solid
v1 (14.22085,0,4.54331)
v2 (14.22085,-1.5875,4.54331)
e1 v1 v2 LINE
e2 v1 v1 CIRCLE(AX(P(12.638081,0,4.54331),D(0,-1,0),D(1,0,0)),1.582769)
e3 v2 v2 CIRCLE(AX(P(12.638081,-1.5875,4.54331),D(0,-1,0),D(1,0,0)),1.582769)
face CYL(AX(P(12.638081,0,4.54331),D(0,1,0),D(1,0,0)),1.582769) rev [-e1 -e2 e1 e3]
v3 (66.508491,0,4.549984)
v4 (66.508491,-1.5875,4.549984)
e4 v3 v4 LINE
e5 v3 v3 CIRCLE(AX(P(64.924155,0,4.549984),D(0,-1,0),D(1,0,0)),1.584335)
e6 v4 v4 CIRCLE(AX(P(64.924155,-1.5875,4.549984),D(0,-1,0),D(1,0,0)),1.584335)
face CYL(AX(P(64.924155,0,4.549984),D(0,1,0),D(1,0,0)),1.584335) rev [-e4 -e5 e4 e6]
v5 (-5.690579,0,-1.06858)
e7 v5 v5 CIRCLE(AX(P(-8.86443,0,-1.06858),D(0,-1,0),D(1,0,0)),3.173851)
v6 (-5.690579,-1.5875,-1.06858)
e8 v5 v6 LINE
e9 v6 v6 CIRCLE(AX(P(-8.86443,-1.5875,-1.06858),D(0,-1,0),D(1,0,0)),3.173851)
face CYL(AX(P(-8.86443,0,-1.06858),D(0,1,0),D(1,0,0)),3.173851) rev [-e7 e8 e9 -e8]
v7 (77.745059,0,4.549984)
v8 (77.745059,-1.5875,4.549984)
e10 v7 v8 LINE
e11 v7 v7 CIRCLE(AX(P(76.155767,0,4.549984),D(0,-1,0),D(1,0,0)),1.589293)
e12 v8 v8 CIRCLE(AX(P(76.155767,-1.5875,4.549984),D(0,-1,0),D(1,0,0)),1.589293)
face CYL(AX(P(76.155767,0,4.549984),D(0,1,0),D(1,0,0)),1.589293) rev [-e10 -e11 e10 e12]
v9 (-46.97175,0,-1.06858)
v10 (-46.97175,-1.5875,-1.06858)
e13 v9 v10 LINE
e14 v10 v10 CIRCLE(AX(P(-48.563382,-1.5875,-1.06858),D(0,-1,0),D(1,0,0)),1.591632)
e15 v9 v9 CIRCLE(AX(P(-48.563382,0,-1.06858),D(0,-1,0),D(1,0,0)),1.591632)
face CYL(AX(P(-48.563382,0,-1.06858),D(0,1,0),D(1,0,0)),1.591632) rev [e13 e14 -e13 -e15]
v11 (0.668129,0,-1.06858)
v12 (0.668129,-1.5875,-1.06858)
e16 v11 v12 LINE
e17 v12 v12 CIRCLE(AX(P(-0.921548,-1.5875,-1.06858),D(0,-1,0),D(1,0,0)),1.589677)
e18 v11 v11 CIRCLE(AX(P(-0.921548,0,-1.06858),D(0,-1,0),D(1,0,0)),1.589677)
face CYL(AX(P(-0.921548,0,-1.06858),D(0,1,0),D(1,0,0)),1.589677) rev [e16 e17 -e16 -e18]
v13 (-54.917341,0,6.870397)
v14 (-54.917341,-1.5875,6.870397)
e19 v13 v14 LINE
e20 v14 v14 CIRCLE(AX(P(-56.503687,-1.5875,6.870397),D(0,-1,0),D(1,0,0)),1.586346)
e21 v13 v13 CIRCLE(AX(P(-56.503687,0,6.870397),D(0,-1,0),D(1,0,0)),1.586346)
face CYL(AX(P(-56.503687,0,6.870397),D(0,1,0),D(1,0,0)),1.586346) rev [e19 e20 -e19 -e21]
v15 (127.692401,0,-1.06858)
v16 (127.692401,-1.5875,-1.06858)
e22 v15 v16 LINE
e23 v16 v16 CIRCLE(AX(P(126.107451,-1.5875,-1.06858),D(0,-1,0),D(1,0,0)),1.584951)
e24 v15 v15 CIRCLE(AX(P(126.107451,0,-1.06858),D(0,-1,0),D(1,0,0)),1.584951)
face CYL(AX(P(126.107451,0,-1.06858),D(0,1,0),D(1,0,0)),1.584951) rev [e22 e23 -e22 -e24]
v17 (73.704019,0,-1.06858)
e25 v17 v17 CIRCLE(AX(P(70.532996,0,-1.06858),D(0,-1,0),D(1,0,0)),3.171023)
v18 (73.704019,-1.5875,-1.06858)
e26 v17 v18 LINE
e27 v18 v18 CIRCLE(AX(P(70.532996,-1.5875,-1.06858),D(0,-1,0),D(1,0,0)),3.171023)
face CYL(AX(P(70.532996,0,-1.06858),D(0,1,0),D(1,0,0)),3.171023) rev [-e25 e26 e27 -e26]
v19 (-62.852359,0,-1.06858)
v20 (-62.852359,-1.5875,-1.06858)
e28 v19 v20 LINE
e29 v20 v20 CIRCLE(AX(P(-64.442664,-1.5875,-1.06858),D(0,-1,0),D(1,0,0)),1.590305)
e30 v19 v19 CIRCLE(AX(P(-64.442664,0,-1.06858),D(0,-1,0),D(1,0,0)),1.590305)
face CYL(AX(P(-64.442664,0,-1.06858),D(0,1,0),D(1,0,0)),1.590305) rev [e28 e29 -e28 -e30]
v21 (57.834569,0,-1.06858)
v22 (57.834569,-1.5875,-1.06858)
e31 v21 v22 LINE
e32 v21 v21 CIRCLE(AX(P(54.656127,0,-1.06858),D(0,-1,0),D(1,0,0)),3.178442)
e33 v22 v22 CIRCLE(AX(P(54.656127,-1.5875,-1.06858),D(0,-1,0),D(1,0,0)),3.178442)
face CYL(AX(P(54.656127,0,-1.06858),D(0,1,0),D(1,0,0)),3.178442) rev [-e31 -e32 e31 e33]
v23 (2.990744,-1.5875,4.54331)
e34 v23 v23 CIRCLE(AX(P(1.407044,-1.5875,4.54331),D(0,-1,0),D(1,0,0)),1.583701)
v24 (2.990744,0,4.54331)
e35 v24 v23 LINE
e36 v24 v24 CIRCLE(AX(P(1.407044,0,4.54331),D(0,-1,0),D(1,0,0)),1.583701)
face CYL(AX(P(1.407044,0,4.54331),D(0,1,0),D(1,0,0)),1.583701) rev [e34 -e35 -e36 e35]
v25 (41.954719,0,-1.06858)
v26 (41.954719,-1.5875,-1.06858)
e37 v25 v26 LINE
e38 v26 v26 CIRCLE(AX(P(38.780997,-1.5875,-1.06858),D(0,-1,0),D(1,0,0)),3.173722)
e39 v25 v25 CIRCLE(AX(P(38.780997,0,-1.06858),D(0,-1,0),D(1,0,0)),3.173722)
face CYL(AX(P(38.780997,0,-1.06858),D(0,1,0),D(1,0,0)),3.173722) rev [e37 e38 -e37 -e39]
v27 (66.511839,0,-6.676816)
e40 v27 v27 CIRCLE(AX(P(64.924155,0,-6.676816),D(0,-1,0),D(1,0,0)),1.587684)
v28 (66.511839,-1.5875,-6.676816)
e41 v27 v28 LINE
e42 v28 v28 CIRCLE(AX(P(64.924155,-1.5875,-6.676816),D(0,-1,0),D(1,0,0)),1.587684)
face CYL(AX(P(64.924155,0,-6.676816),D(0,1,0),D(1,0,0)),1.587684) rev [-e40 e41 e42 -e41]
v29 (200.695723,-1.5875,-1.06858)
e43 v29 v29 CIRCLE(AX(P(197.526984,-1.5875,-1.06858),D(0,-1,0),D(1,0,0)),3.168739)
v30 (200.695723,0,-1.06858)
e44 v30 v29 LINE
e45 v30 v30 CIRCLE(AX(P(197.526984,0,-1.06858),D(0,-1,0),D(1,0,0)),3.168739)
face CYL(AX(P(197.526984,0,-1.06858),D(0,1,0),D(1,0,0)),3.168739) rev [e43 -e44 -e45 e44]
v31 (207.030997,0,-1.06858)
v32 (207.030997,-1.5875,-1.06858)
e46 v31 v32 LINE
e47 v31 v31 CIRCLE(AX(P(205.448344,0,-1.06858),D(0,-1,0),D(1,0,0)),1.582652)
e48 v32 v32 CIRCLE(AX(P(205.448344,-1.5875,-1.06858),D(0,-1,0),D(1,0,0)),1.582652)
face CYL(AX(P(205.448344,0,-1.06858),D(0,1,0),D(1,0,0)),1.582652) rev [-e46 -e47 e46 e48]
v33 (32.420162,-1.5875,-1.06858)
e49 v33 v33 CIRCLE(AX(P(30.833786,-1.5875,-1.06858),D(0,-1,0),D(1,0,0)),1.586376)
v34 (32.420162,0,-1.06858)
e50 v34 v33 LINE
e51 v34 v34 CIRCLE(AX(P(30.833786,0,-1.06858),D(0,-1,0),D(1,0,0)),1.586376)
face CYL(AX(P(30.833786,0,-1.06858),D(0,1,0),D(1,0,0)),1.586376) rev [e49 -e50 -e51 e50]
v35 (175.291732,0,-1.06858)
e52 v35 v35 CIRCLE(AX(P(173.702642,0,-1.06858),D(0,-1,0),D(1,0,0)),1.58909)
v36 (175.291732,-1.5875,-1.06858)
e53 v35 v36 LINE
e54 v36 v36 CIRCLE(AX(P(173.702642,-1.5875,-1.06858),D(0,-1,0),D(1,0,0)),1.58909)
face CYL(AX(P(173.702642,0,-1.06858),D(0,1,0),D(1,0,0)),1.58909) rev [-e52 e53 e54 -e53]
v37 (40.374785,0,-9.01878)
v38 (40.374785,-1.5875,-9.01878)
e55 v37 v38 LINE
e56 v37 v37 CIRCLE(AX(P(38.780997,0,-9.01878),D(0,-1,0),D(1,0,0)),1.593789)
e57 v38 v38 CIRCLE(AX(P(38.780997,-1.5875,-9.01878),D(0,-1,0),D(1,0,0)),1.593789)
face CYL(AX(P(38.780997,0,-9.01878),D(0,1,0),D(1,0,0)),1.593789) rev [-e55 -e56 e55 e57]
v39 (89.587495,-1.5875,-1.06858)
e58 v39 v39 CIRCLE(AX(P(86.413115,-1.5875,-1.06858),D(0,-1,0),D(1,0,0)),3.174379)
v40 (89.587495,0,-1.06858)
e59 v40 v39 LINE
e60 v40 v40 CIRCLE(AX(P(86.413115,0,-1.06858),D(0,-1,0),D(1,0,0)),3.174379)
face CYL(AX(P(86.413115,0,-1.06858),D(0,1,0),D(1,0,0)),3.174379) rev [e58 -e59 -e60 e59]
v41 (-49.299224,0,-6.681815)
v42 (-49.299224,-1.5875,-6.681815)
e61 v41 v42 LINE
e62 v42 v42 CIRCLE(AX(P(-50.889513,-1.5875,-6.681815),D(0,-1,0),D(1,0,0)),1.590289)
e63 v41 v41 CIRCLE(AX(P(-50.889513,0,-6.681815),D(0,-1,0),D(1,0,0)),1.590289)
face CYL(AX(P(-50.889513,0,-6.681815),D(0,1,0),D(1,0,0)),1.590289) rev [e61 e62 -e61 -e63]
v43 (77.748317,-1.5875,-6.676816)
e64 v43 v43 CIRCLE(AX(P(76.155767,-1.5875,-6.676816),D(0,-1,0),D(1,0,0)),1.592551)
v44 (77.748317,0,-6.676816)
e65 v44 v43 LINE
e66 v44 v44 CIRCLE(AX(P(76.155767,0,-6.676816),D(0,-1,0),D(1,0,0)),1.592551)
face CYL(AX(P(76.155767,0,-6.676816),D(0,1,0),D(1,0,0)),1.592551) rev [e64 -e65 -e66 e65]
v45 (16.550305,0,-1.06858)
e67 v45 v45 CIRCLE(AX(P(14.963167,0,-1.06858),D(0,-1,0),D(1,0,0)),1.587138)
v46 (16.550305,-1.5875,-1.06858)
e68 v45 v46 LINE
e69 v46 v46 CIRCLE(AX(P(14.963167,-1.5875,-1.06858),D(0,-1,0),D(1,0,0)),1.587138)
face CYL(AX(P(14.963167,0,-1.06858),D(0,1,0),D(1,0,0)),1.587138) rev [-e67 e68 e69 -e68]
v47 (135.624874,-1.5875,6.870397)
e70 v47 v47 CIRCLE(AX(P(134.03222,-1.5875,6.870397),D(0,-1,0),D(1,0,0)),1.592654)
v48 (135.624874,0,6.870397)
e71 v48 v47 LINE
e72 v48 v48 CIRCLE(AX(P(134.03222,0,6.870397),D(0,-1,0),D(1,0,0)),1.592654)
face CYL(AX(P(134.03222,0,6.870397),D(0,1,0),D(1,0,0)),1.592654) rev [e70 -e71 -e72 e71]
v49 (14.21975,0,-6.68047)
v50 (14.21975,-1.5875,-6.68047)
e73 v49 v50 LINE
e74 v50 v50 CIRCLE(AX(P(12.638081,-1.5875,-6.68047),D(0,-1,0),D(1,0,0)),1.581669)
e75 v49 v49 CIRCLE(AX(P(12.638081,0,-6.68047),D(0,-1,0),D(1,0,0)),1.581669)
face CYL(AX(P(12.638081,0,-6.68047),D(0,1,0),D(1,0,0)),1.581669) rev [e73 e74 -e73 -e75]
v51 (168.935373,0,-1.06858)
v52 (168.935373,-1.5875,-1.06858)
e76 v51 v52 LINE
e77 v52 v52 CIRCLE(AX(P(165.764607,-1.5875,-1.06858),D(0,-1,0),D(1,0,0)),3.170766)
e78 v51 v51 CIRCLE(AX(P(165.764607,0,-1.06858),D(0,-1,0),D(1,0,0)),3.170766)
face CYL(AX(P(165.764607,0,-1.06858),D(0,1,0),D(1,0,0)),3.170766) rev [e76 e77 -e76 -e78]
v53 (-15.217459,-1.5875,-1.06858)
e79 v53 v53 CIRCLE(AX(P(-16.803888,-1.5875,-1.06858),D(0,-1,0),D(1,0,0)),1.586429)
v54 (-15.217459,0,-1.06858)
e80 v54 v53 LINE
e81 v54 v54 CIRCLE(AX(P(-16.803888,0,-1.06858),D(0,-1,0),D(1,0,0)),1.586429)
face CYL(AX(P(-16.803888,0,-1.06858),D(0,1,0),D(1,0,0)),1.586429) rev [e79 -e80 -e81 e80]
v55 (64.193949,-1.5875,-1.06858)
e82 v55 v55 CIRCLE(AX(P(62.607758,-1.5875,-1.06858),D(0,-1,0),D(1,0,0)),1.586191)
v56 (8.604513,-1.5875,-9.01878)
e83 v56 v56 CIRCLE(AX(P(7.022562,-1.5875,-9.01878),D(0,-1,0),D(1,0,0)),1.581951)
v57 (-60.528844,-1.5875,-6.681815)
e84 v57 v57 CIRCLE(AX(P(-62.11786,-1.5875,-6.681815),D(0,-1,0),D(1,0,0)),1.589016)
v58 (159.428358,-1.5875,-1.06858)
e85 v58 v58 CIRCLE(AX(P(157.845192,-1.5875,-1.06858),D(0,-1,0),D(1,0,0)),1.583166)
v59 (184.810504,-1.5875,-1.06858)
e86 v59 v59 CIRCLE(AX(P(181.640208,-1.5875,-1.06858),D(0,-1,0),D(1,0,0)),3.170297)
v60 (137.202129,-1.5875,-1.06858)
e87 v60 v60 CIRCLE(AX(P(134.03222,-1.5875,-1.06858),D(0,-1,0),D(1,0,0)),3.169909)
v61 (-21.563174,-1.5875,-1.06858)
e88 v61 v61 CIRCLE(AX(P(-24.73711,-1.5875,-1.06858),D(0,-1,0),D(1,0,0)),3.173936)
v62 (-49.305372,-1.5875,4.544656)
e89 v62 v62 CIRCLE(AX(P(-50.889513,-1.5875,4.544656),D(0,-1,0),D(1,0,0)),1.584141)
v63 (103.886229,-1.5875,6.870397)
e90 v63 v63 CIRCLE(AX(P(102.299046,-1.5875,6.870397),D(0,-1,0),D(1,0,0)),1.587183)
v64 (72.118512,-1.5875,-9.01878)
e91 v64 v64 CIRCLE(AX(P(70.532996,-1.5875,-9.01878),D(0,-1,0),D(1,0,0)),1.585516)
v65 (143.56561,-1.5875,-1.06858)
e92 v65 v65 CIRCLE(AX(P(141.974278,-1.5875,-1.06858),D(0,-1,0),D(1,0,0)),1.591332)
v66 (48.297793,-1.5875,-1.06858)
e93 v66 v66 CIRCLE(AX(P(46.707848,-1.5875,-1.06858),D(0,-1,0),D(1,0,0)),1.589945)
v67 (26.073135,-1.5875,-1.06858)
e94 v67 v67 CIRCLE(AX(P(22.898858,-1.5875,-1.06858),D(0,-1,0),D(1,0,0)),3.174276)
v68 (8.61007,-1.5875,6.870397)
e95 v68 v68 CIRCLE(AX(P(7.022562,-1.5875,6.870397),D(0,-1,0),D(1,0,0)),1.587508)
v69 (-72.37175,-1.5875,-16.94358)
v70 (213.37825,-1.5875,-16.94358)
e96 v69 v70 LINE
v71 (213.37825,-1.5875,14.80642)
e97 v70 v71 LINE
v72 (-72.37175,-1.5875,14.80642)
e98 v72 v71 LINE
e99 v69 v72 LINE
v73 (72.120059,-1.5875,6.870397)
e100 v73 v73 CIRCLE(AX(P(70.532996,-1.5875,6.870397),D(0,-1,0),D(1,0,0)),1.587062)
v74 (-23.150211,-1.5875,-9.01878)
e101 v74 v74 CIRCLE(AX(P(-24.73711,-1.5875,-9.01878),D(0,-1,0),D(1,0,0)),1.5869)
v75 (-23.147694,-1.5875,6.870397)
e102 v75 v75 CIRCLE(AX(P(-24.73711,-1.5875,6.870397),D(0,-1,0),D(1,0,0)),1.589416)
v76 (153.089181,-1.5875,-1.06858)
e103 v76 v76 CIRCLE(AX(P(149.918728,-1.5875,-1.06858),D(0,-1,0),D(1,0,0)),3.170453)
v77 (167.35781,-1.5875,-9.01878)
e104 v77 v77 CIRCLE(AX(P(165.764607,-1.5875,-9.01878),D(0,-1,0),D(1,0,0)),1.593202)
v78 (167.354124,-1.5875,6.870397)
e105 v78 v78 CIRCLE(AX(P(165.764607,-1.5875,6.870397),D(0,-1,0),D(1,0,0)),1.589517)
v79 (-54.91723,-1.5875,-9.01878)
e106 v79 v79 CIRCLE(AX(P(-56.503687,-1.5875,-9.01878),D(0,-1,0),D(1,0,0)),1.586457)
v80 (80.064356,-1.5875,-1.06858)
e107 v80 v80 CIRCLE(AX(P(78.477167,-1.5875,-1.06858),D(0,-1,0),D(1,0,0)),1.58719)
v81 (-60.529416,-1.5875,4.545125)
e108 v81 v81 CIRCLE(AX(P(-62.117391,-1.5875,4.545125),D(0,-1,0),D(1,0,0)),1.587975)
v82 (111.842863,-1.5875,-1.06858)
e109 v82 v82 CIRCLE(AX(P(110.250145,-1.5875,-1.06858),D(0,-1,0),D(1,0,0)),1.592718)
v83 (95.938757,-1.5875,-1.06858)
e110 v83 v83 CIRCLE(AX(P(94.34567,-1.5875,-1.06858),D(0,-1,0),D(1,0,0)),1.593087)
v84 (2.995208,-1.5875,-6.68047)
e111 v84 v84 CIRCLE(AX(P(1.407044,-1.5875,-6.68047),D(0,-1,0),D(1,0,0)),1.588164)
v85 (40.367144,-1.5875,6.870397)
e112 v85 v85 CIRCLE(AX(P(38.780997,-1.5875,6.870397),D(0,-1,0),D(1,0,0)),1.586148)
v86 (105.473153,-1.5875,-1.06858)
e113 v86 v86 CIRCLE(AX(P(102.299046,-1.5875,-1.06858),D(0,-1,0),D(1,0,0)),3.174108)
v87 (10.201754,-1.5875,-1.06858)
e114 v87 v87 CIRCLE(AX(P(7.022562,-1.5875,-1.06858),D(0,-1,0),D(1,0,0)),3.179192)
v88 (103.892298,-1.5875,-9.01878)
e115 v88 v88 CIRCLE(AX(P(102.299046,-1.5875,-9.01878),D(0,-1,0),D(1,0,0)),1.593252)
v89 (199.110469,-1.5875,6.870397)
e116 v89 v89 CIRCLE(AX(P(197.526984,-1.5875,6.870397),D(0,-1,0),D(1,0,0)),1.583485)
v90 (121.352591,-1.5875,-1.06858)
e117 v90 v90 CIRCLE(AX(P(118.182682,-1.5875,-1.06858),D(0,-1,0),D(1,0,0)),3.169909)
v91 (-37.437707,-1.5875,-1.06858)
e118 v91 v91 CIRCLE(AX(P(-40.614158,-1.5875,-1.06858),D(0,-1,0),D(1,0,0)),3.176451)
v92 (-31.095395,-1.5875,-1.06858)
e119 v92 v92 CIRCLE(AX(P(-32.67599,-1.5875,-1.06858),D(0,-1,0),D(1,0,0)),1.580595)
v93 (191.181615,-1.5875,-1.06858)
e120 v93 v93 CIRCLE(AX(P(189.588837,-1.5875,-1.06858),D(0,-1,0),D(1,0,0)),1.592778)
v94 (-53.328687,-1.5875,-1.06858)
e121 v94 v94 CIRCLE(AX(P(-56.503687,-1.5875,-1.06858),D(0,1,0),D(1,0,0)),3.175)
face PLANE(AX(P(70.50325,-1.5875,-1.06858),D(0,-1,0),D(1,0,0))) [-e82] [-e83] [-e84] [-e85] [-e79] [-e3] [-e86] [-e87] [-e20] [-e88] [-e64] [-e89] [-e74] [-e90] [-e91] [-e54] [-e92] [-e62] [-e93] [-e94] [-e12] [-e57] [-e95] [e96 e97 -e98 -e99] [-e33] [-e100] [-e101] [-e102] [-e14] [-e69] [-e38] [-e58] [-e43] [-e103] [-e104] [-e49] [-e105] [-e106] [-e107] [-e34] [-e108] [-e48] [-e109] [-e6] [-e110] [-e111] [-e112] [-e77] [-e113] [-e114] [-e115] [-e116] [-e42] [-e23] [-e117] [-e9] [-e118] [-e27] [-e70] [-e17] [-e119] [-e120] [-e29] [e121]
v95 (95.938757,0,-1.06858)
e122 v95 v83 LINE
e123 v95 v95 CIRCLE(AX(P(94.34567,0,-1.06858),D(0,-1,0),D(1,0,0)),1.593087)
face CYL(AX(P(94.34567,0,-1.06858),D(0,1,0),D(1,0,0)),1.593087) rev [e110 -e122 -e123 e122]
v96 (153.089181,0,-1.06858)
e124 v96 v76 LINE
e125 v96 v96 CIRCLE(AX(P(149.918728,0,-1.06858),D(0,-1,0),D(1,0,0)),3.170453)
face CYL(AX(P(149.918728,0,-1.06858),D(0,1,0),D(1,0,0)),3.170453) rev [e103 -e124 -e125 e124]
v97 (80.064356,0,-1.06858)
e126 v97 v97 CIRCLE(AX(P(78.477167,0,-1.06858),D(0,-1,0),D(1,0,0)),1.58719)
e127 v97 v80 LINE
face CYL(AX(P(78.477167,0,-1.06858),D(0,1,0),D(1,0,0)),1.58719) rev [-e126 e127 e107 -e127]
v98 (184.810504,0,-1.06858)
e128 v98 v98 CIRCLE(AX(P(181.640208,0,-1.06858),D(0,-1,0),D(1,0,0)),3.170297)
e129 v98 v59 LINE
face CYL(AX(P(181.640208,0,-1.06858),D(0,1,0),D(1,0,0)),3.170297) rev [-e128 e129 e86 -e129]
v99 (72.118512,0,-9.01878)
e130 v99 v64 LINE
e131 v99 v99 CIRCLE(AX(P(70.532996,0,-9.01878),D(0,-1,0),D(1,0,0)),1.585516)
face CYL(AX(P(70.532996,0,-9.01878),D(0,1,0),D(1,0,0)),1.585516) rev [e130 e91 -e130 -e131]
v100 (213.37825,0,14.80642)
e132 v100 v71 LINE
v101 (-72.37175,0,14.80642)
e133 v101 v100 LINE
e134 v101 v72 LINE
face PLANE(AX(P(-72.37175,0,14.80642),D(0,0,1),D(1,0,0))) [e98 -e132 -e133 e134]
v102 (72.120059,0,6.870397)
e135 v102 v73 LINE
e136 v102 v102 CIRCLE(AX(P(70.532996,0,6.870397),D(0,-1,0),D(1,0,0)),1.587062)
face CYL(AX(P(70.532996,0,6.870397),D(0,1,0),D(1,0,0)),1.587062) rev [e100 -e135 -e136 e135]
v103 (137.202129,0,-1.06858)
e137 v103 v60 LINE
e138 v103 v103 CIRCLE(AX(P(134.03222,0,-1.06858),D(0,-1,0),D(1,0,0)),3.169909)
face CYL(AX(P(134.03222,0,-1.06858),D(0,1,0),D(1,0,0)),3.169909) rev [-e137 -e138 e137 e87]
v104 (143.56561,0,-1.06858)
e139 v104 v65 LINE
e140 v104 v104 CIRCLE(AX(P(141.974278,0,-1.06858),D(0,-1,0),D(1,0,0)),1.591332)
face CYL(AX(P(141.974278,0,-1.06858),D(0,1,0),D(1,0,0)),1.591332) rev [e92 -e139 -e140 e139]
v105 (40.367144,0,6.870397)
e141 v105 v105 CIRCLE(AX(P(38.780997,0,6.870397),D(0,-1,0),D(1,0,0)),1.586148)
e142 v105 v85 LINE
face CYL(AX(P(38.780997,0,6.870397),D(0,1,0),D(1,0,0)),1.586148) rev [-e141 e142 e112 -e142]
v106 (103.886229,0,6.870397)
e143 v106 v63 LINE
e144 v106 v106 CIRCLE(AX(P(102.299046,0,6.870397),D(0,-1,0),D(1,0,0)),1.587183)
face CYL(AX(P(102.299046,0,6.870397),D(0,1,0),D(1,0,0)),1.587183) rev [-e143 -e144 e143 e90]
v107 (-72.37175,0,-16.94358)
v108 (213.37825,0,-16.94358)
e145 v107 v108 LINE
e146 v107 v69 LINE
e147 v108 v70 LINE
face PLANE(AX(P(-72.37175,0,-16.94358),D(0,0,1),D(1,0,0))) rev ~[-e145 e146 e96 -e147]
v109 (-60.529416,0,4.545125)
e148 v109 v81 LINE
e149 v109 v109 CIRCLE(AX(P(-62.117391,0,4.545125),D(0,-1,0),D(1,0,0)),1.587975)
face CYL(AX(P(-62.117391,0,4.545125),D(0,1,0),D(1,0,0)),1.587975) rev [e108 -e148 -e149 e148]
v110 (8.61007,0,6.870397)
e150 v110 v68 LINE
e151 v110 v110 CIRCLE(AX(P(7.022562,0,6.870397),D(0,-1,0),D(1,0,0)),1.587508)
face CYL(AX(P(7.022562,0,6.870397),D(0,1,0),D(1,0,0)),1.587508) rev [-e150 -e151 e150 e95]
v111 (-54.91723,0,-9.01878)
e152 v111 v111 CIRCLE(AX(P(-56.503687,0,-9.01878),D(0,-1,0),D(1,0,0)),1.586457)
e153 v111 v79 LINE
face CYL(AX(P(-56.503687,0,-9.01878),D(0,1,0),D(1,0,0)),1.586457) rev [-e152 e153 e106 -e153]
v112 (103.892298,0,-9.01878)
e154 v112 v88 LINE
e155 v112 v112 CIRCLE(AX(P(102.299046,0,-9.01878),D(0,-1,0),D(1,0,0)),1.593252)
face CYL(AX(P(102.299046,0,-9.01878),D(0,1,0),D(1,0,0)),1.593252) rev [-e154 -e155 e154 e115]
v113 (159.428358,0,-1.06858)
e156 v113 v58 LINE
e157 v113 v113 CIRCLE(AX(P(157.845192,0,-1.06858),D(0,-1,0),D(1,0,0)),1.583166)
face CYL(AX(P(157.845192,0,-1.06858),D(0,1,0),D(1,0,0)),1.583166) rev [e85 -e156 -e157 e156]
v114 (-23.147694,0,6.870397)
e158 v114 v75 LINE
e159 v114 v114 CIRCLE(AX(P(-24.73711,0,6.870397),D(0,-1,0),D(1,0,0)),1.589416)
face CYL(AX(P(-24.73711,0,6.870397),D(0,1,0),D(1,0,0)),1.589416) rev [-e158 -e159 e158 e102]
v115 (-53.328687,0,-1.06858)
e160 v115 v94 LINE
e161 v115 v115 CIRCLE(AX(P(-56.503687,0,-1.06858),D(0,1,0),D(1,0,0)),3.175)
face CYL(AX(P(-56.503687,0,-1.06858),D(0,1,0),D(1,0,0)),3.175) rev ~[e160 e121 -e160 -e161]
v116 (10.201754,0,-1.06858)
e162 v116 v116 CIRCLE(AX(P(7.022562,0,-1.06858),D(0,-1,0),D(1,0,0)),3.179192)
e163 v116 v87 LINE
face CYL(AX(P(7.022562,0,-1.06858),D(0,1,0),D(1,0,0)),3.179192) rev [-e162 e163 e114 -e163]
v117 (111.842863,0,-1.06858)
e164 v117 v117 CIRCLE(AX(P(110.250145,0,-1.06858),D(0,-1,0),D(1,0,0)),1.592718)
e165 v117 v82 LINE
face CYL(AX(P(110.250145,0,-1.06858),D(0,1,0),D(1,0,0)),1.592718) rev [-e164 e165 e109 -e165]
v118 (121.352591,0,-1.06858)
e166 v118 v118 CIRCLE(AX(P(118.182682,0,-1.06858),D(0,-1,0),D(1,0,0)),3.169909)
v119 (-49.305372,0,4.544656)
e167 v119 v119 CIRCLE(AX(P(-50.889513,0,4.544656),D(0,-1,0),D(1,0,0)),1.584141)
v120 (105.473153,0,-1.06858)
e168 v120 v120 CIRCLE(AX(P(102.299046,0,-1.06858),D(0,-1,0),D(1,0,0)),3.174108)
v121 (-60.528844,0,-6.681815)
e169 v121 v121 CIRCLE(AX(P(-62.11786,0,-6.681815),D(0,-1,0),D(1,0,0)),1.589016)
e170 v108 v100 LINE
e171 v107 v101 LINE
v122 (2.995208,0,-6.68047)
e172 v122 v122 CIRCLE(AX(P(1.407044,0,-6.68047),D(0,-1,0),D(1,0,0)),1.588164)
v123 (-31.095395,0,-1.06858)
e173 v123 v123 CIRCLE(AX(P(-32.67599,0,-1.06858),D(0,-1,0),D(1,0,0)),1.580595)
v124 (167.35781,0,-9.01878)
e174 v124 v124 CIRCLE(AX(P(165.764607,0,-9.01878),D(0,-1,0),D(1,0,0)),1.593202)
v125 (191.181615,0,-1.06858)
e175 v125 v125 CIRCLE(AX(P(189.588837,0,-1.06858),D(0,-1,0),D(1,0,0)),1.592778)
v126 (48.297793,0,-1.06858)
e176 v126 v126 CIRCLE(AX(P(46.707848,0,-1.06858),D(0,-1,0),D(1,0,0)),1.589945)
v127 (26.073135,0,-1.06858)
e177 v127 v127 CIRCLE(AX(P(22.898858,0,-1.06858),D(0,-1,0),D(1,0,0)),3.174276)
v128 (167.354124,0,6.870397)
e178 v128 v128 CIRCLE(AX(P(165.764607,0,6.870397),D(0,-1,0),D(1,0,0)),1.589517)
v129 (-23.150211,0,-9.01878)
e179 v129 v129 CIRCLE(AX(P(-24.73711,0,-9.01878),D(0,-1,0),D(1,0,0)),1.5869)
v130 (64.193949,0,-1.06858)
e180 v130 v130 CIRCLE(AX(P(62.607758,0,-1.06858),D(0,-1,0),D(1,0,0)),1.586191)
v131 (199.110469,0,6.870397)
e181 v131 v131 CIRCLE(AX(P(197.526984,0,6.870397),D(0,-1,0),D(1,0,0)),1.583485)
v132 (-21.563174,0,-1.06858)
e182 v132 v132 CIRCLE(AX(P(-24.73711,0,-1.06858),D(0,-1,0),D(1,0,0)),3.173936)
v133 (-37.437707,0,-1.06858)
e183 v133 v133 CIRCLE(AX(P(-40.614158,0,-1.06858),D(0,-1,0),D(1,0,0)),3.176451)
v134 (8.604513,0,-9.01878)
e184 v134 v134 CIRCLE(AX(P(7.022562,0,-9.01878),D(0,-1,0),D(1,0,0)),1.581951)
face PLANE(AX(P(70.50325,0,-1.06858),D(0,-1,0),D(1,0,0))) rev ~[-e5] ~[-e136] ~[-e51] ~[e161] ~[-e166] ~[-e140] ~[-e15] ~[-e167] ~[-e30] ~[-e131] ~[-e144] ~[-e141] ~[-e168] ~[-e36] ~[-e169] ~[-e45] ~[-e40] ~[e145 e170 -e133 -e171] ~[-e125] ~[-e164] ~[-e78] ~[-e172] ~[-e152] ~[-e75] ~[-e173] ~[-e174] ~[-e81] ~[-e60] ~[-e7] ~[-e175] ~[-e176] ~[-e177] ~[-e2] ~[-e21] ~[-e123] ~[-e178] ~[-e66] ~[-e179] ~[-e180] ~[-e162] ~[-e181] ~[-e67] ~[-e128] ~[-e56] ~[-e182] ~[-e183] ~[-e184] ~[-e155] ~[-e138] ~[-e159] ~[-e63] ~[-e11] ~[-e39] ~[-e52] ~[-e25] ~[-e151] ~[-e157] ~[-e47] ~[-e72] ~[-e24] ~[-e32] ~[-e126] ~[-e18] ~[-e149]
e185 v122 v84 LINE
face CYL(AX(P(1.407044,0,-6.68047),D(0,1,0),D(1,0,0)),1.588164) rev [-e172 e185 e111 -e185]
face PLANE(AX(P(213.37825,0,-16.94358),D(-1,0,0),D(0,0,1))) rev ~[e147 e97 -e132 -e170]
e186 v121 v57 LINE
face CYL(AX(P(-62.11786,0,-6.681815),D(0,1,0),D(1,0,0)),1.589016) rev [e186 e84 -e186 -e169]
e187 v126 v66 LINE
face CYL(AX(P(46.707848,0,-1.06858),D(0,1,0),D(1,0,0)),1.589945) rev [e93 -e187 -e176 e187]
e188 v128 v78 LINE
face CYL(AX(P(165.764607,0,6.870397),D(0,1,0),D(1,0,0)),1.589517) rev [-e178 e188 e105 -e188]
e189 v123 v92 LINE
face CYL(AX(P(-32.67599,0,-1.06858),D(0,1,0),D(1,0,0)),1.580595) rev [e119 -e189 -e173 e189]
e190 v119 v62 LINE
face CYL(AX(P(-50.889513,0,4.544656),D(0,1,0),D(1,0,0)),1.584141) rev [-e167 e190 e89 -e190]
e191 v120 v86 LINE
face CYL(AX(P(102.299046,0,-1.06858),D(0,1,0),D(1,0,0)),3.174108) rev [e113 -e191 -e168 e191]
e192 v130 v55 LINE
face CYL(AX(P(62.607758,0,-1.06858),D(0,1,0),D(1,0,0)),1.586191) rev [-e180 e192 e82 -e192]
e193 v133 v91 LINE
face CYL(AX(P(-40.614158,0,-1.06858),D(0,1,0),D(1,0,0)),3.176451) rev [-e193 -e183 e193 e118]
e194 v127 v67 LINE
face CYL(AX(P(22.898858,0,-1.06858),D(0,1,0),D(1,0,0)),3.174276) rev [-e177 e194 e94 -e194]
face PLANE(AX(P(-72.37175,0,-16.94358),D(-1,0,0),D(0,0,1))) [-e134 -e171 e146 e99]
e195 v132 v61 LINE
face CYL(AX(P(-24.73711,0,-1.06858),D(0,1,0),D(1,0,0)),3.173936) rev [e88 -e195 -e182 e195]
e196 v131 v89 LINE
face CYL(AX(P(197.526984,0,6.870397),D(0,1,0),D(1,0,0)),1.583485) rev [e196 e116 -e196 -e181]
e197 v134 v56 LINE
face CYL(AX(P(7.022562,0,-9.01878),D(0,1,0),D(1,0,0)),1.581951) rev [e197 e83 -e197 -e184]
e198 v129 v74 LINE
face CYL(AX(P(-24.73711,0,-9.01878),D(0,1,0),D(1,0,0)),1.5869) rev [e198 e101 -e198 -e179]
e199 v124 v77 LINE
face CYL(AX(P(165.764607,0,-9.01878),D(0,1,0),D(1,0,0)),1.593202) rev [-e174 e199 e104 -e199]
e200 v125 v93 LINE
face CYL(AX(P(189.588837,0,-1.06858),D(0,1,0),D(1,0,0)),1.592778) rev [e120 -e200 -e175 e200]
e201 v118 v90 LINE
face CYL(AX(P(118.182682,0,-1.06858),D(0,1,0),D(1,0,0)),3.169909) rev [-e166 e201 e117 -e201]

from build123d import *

# Parameters (mm, degrees)
F0_W     = 285.75
F0_H     = 31.75
F0_R     = 1.5864569713
F0_R_2   = 1.586899503
F0_R_3   = 1.5819512744
F0_R_4   = 1.5937887431
F0_R_5   = 1.5890160517
F0_R_6   = 1.5902887856
F0_R_7   = 1.5903045613
F0_R_8   = 1.5916317916
F0_R_9   = 3.1764507294
F0_R_10  = 1.5805950388
F0_R_11  = 3.1739361584
F0_R_12  = 1.5864288434
F0_R_13  = 3.1738511752
F0_R_14  = 1.5881643895
F0_R_15  = 1.5816690835
F0_R_16  = 1.5876839815
F0_R_17  = 1.5896769037
F0_R_18  = 3.179191961
F0_R_19  = 1.5871380456
F0_R_20  = 3.1742760912
F0_R_21  = 1.5863757581
F0_R_22  = 3.1737219542
F0_R_23  = 1.5899445862
F0_R_24  = 3.178441897
F0_R_25  = 1.5861913562
F0_R_26  = 1.5855158629
F0_R_27  = 1.5932524318
F0_R_28  = 1.5932021287
F0_R_29  = 1.5925505972
F0_R_30  = 3.1710229814
F0_R_31  = 1.587189734
F0_R_32  = 3.174379468
F0_R_33  = 1.5930868685
F0_R_34  = 3.1741075218
F0_R_35  = 1.5927180648
F0_R_36  = 3.1699091196
F0_R_37  = 1.5849508345
F0_R_38  = 1.5913322568
F0_R_39  = 3.170453012
F0_R_40  = 1.5831664205
F0_R_41  = 3.1707659364
F0_R_42  = 1.589089632
F0_R_43  = 3.1702965498
F0_R_44  = 1.5927776694
F0_R_45  = 3.1687393785
F0_R_46  = 1.5826523304
F0_R_47  = 1.5879751285
F0_R_48  = 1.5841407752
F0_R_49  = 1.583700919
F0_R_50  = 1.5827693871
F0_R_51  = 1.5843354194
F0_R_52  = 1.5863459475
F0_R_53  = 1.589416453
F0_R_54  = 1.5875077881
F0_R_55  = 1.5861476827
F0_R_56  = 1.5892925274
F0_R_57  = 1.5870624762
F0_R_58  = 1.5871828381
F0_R_59  = 1.5926541335
F0_R_60  = 1.589516644
F0_R_61  = 1.5834852409
F1_DEPTH = 1.5875


with BuildPart() as f1:
    # F0 (on Front) → F1 (new body)
    with BuildSketch(Plane.XZ):
        with Locations((70.5032497835, -1.0685799643)):
            Rectangle(F0_W, F0_H)
        with Locations((-56.5036865693, -9.0187799643)):
            Circle(F0_R, mode=Mode.SUBTRACT)
        with Locations((-24.7371103615, -9.0187799643)):
            Circle(F0_R_2, mode=Mode.SUBTRACT)
        with Locations((7.0225620875, -9.0187799643)):
            Circle(F0_R_3, mode=Mode.SUBTRACT)
        with Locations((38.780996576, -9.0187799643)):
            Circle(F0_R_4, mode=Mode.SUBTRACT)
        with Locations((-62.1178604637, -6.6818154435)):
            Circle(F0_R_5, mode=Mode.SUBTRACT)
        with Locations((-50.889512675, -6.6818154435)):
            Circle(F0_R_6, mode=Mode.SUBTRACT)
        with Locations((-64.4426639002, -1.0685799643)):
            Circle(F0_R_7, mode=Mode.SUBTRACT)
        with BuildLine():
            ThreePointArc((-59.6786865693, -1.0685799643), (-56.5036865693, 2.1064200357), (-53.3286865693, -1.0685799643))
            ThreePointArc((-53.3286865693, -1.0685799643), (-56.5036865693, -4.2435799643), (-59.6786865693, -1.0685799643))
        make_face(mode=Mode.SUBTRACT)
        with Locations((-48.5633820081, -1.0685799643)):
            Circle(F0_R_8, mode=Mode.SUBTRACT)
        with Locations((-40.6141579151, -1.0685799643)):
            Circle(F0_R_9, mode=Mode.SUBTRACT)
        with Locations((-32.6759899035, -1.0685799643)):
            Circle(F0_R_10, mode=Mode.SUBTRACT)
        with Locations((-24.7371103615, -1.0685799643)):
            Circle(F0_R_11, mode=Mode.SUBTRACT)
        with Locations((-16.8038876727, -1.0685799643)):
            Circle(F0_R_12, mode=Mode.SUBTRACT)
        with Locations((-8.8644300122, -1.0685799643)):
            Circle(F0_R_13, mode=Mode.SUBTRACT)
        with Locations((1.4070435128, -6.6804702161)):
            Circle(F0_R_14, mode=Mode.SUBTRACT)
        with Locations((12.6380806622, -6.6804702161)):
            Circle(F0_R_15, mode=Mode.SUBTRACT)
        with Locations((64.9241552354, -6.676815734)):
            Circle(F0_R_16, mode=Mode.SUBTRACT)
        with Locations((-0.9215481259, -1.0685799643)):
            Circle(F0_R_17, mode=Mode.SUBTRACT)
        with Locations((7.0225620875, -1.0685799643)):
            Circle(F0_R_18, mode=Mode.SUBTRACT)
        with Locations((14.9631672539, -1.0685799643)):
            Circle(F0_R_19, mode=Mode.SUBTRACT)
        with Locations((22.8988584131, -1.0685799643)):
            Circle(F0_R_20, mode=Mode.SUBTRACT)
        with Locations((30.8337863535, -1.0685799643)):
            Circle(F0_R_21, mode=Mode.SUBTRACT)
        with Locations((38.780996576, -1.0685799643)):
            Circle(F0_R_22, mode=Mode.SUBTRACT)
        with Locations((46.707848087, -1.0685799643)):
            Circle(F0_R_23, mode=Mode.SUBTRACT)
        with Locations((54.6561274678, -1.0685799643)):
            Circle(F0_R_24, mode=Mode.SUBTRACT)
        with Locations((62.6077577472, -1.0685799643)):
            Circle(F0_R_25, mode=Mode.SUBTRACT)
        with Locations((70.5329962075, -9.0187799643)):
            Circle(F0_R_26, mode=Mode.SUBTRACT)
        with Locations((102.2990457714, -9.0187799643)):
            Circle(F0_R_27, mode=Mode.SUBTRACT)
        with Locations((165.7646074891, -9.0187799643)):
            Circle(F0_R_28, mode=Mode.SUBTRACT)
        with Locations((76.1557668447, -6.676815734)):
            Circle(F0_R_29, mode=Mode.SUBTRACT)
        with Locations((70.5329962075, -1.0685799643)):
            Circle(F0_R_30, mode=Mode.SUBTRACT)
        with Locations((78.4771665931, -1.0685799643)):
            Circle(F0_R_31, mode=Mode.SUBTRACT)
        with Locations((86.413115263, -1.0685799643)):
            Circle(F0_R_32, mode=Mode.SUBTRACT)
        with Locations((94.3456701934, -1.0685799643)):
            Circle(F0_R_33, mode=Mode.SUBTRACT)
        with Locations((102.2990457714, -1.0685799643)):
            Circle(F0_R_34, mode=Mode.SUBTRACT)
        with Locations((110.2501451969, -1.0685799643)):
            Circle(F0_R_35, mode=Mode.SUBTRACT)
        with Locations((118.1826815009, -1.0685799643)):
            Circle(F0_R_36, mode=Mode.SUBTRACT)
        with Locations((126.1074505746, -1.0685799643)):
            Circle(F0_R_37, mode=Mode.SUBTRACT)
        with Locations((134.0322196484, -1.0685799643)):
            Circle(F0_R_36, mode=Mode.SUBTRACT)
        with Locations((141.9742777944, -1.0685799643)):
            Circle(F0_R_38, mode=Mode.SUBTRACT)
        with Locations((149.9187275767, -1.0685799643)):
            Circle(F0_R_39, mode=Mode.SUBTRACT)
        with Locations((157.8451916575, -1.0685799643)):
            Circle(F0_R_40, mode=Mode.SUBTRACT)
        with Locations((165.7646074891, -1.0685799643)):
            Circle(F0_R_41, mode=Mode.SUBTRACT)
        with Locations((173.7026423216, -1.0685799643)):
            Circle(F0_R_42, mode=Mode.SUBTRACT)
        with Locations((181.6402077675, -1.0685799643)):
            Circle(F0_R_43, mode=Mode.SUBTRACT)
        with Locations((189.5888373256, -1.0685799643)):
            Circle(F0_R_44, mode=Mode.SUBTRACT)
        with Locations((197.5269839168, -1.0685799643)):
            Circle(F0_R_45, mode=Mode.SUBTRACT)
        with Locations((205.4483443499, -1.0685799643)):
            Circle(F0_R_46, mode=Mode.SUBTRACT)
        with Locations((-62.1173912757, 4.545124742)):
            Circle(F0_R_47, mode=Mode.SUBTRACT)
        with Locations((-50.889512675, 4.5446555149)):
            Circle(F0_R_48, mode=Mode.SUBTRACT)
        with Locations((1.4070435128, 4.5433102875)):
            Circle(F0_R_49, mode=Mode.SUBTRACT)
        with Locations((12.6380806622, 4.5433102875)):
            Circle(F0_R_50, mode=Mode.SUBTRACT)
        with Locations((64.9241552354, 4.549984266)):
            Circle(F0_R_51, mode=Mode.SUBTRACT)
        with Locations((-56.5036865693, 6.8703973666)):
            Circle(F0_R_52, mode=Mode.SUBTRACT)
        with Locations((-24.7371103615, 6.8703973666)):
            Circle(F0_R_53, mode=Mode.SUBTRACT)
        with Locations((7.0225620875, 6.8703973666)):
            Circle(F0_R_54, mode=Mode.SUBTRACT)
        with Locations((38.780996576, 6.8703973666)):
            Circle(F0_R_55, mode=Mode.SUBTRACT)
        with Locations((76.1557668447, 4.549984266)):
            Circle(F0_R_56, mode=Mode.SUBTRACT)
        with Locations((70.5329962075, 6.8703973666)):
            Circle(F0_R_57, mode=Mode.SUBTRACT)
        with Locations((102.2990457714, 6.8703973666)):
            Circle(F0_R_58, mode=Mode.SUBTRACT)
        with Locations((134.0322196484, 6.8703973666)):
            Circle(F0_R_59, mode=Mode.SUBTRACT)
        with Locations((165.7646074891, 6.8703973666)):
            Circle(F0_R_60, mode=Mode.SUBTRACT)
        with Locations((197.5269839168, 6.8703973666)):
            Circle(F0_R_61, mode=Mode.SUBTRACT)
    extrude(amount=F1_DEPTH)


solid = f1.part
